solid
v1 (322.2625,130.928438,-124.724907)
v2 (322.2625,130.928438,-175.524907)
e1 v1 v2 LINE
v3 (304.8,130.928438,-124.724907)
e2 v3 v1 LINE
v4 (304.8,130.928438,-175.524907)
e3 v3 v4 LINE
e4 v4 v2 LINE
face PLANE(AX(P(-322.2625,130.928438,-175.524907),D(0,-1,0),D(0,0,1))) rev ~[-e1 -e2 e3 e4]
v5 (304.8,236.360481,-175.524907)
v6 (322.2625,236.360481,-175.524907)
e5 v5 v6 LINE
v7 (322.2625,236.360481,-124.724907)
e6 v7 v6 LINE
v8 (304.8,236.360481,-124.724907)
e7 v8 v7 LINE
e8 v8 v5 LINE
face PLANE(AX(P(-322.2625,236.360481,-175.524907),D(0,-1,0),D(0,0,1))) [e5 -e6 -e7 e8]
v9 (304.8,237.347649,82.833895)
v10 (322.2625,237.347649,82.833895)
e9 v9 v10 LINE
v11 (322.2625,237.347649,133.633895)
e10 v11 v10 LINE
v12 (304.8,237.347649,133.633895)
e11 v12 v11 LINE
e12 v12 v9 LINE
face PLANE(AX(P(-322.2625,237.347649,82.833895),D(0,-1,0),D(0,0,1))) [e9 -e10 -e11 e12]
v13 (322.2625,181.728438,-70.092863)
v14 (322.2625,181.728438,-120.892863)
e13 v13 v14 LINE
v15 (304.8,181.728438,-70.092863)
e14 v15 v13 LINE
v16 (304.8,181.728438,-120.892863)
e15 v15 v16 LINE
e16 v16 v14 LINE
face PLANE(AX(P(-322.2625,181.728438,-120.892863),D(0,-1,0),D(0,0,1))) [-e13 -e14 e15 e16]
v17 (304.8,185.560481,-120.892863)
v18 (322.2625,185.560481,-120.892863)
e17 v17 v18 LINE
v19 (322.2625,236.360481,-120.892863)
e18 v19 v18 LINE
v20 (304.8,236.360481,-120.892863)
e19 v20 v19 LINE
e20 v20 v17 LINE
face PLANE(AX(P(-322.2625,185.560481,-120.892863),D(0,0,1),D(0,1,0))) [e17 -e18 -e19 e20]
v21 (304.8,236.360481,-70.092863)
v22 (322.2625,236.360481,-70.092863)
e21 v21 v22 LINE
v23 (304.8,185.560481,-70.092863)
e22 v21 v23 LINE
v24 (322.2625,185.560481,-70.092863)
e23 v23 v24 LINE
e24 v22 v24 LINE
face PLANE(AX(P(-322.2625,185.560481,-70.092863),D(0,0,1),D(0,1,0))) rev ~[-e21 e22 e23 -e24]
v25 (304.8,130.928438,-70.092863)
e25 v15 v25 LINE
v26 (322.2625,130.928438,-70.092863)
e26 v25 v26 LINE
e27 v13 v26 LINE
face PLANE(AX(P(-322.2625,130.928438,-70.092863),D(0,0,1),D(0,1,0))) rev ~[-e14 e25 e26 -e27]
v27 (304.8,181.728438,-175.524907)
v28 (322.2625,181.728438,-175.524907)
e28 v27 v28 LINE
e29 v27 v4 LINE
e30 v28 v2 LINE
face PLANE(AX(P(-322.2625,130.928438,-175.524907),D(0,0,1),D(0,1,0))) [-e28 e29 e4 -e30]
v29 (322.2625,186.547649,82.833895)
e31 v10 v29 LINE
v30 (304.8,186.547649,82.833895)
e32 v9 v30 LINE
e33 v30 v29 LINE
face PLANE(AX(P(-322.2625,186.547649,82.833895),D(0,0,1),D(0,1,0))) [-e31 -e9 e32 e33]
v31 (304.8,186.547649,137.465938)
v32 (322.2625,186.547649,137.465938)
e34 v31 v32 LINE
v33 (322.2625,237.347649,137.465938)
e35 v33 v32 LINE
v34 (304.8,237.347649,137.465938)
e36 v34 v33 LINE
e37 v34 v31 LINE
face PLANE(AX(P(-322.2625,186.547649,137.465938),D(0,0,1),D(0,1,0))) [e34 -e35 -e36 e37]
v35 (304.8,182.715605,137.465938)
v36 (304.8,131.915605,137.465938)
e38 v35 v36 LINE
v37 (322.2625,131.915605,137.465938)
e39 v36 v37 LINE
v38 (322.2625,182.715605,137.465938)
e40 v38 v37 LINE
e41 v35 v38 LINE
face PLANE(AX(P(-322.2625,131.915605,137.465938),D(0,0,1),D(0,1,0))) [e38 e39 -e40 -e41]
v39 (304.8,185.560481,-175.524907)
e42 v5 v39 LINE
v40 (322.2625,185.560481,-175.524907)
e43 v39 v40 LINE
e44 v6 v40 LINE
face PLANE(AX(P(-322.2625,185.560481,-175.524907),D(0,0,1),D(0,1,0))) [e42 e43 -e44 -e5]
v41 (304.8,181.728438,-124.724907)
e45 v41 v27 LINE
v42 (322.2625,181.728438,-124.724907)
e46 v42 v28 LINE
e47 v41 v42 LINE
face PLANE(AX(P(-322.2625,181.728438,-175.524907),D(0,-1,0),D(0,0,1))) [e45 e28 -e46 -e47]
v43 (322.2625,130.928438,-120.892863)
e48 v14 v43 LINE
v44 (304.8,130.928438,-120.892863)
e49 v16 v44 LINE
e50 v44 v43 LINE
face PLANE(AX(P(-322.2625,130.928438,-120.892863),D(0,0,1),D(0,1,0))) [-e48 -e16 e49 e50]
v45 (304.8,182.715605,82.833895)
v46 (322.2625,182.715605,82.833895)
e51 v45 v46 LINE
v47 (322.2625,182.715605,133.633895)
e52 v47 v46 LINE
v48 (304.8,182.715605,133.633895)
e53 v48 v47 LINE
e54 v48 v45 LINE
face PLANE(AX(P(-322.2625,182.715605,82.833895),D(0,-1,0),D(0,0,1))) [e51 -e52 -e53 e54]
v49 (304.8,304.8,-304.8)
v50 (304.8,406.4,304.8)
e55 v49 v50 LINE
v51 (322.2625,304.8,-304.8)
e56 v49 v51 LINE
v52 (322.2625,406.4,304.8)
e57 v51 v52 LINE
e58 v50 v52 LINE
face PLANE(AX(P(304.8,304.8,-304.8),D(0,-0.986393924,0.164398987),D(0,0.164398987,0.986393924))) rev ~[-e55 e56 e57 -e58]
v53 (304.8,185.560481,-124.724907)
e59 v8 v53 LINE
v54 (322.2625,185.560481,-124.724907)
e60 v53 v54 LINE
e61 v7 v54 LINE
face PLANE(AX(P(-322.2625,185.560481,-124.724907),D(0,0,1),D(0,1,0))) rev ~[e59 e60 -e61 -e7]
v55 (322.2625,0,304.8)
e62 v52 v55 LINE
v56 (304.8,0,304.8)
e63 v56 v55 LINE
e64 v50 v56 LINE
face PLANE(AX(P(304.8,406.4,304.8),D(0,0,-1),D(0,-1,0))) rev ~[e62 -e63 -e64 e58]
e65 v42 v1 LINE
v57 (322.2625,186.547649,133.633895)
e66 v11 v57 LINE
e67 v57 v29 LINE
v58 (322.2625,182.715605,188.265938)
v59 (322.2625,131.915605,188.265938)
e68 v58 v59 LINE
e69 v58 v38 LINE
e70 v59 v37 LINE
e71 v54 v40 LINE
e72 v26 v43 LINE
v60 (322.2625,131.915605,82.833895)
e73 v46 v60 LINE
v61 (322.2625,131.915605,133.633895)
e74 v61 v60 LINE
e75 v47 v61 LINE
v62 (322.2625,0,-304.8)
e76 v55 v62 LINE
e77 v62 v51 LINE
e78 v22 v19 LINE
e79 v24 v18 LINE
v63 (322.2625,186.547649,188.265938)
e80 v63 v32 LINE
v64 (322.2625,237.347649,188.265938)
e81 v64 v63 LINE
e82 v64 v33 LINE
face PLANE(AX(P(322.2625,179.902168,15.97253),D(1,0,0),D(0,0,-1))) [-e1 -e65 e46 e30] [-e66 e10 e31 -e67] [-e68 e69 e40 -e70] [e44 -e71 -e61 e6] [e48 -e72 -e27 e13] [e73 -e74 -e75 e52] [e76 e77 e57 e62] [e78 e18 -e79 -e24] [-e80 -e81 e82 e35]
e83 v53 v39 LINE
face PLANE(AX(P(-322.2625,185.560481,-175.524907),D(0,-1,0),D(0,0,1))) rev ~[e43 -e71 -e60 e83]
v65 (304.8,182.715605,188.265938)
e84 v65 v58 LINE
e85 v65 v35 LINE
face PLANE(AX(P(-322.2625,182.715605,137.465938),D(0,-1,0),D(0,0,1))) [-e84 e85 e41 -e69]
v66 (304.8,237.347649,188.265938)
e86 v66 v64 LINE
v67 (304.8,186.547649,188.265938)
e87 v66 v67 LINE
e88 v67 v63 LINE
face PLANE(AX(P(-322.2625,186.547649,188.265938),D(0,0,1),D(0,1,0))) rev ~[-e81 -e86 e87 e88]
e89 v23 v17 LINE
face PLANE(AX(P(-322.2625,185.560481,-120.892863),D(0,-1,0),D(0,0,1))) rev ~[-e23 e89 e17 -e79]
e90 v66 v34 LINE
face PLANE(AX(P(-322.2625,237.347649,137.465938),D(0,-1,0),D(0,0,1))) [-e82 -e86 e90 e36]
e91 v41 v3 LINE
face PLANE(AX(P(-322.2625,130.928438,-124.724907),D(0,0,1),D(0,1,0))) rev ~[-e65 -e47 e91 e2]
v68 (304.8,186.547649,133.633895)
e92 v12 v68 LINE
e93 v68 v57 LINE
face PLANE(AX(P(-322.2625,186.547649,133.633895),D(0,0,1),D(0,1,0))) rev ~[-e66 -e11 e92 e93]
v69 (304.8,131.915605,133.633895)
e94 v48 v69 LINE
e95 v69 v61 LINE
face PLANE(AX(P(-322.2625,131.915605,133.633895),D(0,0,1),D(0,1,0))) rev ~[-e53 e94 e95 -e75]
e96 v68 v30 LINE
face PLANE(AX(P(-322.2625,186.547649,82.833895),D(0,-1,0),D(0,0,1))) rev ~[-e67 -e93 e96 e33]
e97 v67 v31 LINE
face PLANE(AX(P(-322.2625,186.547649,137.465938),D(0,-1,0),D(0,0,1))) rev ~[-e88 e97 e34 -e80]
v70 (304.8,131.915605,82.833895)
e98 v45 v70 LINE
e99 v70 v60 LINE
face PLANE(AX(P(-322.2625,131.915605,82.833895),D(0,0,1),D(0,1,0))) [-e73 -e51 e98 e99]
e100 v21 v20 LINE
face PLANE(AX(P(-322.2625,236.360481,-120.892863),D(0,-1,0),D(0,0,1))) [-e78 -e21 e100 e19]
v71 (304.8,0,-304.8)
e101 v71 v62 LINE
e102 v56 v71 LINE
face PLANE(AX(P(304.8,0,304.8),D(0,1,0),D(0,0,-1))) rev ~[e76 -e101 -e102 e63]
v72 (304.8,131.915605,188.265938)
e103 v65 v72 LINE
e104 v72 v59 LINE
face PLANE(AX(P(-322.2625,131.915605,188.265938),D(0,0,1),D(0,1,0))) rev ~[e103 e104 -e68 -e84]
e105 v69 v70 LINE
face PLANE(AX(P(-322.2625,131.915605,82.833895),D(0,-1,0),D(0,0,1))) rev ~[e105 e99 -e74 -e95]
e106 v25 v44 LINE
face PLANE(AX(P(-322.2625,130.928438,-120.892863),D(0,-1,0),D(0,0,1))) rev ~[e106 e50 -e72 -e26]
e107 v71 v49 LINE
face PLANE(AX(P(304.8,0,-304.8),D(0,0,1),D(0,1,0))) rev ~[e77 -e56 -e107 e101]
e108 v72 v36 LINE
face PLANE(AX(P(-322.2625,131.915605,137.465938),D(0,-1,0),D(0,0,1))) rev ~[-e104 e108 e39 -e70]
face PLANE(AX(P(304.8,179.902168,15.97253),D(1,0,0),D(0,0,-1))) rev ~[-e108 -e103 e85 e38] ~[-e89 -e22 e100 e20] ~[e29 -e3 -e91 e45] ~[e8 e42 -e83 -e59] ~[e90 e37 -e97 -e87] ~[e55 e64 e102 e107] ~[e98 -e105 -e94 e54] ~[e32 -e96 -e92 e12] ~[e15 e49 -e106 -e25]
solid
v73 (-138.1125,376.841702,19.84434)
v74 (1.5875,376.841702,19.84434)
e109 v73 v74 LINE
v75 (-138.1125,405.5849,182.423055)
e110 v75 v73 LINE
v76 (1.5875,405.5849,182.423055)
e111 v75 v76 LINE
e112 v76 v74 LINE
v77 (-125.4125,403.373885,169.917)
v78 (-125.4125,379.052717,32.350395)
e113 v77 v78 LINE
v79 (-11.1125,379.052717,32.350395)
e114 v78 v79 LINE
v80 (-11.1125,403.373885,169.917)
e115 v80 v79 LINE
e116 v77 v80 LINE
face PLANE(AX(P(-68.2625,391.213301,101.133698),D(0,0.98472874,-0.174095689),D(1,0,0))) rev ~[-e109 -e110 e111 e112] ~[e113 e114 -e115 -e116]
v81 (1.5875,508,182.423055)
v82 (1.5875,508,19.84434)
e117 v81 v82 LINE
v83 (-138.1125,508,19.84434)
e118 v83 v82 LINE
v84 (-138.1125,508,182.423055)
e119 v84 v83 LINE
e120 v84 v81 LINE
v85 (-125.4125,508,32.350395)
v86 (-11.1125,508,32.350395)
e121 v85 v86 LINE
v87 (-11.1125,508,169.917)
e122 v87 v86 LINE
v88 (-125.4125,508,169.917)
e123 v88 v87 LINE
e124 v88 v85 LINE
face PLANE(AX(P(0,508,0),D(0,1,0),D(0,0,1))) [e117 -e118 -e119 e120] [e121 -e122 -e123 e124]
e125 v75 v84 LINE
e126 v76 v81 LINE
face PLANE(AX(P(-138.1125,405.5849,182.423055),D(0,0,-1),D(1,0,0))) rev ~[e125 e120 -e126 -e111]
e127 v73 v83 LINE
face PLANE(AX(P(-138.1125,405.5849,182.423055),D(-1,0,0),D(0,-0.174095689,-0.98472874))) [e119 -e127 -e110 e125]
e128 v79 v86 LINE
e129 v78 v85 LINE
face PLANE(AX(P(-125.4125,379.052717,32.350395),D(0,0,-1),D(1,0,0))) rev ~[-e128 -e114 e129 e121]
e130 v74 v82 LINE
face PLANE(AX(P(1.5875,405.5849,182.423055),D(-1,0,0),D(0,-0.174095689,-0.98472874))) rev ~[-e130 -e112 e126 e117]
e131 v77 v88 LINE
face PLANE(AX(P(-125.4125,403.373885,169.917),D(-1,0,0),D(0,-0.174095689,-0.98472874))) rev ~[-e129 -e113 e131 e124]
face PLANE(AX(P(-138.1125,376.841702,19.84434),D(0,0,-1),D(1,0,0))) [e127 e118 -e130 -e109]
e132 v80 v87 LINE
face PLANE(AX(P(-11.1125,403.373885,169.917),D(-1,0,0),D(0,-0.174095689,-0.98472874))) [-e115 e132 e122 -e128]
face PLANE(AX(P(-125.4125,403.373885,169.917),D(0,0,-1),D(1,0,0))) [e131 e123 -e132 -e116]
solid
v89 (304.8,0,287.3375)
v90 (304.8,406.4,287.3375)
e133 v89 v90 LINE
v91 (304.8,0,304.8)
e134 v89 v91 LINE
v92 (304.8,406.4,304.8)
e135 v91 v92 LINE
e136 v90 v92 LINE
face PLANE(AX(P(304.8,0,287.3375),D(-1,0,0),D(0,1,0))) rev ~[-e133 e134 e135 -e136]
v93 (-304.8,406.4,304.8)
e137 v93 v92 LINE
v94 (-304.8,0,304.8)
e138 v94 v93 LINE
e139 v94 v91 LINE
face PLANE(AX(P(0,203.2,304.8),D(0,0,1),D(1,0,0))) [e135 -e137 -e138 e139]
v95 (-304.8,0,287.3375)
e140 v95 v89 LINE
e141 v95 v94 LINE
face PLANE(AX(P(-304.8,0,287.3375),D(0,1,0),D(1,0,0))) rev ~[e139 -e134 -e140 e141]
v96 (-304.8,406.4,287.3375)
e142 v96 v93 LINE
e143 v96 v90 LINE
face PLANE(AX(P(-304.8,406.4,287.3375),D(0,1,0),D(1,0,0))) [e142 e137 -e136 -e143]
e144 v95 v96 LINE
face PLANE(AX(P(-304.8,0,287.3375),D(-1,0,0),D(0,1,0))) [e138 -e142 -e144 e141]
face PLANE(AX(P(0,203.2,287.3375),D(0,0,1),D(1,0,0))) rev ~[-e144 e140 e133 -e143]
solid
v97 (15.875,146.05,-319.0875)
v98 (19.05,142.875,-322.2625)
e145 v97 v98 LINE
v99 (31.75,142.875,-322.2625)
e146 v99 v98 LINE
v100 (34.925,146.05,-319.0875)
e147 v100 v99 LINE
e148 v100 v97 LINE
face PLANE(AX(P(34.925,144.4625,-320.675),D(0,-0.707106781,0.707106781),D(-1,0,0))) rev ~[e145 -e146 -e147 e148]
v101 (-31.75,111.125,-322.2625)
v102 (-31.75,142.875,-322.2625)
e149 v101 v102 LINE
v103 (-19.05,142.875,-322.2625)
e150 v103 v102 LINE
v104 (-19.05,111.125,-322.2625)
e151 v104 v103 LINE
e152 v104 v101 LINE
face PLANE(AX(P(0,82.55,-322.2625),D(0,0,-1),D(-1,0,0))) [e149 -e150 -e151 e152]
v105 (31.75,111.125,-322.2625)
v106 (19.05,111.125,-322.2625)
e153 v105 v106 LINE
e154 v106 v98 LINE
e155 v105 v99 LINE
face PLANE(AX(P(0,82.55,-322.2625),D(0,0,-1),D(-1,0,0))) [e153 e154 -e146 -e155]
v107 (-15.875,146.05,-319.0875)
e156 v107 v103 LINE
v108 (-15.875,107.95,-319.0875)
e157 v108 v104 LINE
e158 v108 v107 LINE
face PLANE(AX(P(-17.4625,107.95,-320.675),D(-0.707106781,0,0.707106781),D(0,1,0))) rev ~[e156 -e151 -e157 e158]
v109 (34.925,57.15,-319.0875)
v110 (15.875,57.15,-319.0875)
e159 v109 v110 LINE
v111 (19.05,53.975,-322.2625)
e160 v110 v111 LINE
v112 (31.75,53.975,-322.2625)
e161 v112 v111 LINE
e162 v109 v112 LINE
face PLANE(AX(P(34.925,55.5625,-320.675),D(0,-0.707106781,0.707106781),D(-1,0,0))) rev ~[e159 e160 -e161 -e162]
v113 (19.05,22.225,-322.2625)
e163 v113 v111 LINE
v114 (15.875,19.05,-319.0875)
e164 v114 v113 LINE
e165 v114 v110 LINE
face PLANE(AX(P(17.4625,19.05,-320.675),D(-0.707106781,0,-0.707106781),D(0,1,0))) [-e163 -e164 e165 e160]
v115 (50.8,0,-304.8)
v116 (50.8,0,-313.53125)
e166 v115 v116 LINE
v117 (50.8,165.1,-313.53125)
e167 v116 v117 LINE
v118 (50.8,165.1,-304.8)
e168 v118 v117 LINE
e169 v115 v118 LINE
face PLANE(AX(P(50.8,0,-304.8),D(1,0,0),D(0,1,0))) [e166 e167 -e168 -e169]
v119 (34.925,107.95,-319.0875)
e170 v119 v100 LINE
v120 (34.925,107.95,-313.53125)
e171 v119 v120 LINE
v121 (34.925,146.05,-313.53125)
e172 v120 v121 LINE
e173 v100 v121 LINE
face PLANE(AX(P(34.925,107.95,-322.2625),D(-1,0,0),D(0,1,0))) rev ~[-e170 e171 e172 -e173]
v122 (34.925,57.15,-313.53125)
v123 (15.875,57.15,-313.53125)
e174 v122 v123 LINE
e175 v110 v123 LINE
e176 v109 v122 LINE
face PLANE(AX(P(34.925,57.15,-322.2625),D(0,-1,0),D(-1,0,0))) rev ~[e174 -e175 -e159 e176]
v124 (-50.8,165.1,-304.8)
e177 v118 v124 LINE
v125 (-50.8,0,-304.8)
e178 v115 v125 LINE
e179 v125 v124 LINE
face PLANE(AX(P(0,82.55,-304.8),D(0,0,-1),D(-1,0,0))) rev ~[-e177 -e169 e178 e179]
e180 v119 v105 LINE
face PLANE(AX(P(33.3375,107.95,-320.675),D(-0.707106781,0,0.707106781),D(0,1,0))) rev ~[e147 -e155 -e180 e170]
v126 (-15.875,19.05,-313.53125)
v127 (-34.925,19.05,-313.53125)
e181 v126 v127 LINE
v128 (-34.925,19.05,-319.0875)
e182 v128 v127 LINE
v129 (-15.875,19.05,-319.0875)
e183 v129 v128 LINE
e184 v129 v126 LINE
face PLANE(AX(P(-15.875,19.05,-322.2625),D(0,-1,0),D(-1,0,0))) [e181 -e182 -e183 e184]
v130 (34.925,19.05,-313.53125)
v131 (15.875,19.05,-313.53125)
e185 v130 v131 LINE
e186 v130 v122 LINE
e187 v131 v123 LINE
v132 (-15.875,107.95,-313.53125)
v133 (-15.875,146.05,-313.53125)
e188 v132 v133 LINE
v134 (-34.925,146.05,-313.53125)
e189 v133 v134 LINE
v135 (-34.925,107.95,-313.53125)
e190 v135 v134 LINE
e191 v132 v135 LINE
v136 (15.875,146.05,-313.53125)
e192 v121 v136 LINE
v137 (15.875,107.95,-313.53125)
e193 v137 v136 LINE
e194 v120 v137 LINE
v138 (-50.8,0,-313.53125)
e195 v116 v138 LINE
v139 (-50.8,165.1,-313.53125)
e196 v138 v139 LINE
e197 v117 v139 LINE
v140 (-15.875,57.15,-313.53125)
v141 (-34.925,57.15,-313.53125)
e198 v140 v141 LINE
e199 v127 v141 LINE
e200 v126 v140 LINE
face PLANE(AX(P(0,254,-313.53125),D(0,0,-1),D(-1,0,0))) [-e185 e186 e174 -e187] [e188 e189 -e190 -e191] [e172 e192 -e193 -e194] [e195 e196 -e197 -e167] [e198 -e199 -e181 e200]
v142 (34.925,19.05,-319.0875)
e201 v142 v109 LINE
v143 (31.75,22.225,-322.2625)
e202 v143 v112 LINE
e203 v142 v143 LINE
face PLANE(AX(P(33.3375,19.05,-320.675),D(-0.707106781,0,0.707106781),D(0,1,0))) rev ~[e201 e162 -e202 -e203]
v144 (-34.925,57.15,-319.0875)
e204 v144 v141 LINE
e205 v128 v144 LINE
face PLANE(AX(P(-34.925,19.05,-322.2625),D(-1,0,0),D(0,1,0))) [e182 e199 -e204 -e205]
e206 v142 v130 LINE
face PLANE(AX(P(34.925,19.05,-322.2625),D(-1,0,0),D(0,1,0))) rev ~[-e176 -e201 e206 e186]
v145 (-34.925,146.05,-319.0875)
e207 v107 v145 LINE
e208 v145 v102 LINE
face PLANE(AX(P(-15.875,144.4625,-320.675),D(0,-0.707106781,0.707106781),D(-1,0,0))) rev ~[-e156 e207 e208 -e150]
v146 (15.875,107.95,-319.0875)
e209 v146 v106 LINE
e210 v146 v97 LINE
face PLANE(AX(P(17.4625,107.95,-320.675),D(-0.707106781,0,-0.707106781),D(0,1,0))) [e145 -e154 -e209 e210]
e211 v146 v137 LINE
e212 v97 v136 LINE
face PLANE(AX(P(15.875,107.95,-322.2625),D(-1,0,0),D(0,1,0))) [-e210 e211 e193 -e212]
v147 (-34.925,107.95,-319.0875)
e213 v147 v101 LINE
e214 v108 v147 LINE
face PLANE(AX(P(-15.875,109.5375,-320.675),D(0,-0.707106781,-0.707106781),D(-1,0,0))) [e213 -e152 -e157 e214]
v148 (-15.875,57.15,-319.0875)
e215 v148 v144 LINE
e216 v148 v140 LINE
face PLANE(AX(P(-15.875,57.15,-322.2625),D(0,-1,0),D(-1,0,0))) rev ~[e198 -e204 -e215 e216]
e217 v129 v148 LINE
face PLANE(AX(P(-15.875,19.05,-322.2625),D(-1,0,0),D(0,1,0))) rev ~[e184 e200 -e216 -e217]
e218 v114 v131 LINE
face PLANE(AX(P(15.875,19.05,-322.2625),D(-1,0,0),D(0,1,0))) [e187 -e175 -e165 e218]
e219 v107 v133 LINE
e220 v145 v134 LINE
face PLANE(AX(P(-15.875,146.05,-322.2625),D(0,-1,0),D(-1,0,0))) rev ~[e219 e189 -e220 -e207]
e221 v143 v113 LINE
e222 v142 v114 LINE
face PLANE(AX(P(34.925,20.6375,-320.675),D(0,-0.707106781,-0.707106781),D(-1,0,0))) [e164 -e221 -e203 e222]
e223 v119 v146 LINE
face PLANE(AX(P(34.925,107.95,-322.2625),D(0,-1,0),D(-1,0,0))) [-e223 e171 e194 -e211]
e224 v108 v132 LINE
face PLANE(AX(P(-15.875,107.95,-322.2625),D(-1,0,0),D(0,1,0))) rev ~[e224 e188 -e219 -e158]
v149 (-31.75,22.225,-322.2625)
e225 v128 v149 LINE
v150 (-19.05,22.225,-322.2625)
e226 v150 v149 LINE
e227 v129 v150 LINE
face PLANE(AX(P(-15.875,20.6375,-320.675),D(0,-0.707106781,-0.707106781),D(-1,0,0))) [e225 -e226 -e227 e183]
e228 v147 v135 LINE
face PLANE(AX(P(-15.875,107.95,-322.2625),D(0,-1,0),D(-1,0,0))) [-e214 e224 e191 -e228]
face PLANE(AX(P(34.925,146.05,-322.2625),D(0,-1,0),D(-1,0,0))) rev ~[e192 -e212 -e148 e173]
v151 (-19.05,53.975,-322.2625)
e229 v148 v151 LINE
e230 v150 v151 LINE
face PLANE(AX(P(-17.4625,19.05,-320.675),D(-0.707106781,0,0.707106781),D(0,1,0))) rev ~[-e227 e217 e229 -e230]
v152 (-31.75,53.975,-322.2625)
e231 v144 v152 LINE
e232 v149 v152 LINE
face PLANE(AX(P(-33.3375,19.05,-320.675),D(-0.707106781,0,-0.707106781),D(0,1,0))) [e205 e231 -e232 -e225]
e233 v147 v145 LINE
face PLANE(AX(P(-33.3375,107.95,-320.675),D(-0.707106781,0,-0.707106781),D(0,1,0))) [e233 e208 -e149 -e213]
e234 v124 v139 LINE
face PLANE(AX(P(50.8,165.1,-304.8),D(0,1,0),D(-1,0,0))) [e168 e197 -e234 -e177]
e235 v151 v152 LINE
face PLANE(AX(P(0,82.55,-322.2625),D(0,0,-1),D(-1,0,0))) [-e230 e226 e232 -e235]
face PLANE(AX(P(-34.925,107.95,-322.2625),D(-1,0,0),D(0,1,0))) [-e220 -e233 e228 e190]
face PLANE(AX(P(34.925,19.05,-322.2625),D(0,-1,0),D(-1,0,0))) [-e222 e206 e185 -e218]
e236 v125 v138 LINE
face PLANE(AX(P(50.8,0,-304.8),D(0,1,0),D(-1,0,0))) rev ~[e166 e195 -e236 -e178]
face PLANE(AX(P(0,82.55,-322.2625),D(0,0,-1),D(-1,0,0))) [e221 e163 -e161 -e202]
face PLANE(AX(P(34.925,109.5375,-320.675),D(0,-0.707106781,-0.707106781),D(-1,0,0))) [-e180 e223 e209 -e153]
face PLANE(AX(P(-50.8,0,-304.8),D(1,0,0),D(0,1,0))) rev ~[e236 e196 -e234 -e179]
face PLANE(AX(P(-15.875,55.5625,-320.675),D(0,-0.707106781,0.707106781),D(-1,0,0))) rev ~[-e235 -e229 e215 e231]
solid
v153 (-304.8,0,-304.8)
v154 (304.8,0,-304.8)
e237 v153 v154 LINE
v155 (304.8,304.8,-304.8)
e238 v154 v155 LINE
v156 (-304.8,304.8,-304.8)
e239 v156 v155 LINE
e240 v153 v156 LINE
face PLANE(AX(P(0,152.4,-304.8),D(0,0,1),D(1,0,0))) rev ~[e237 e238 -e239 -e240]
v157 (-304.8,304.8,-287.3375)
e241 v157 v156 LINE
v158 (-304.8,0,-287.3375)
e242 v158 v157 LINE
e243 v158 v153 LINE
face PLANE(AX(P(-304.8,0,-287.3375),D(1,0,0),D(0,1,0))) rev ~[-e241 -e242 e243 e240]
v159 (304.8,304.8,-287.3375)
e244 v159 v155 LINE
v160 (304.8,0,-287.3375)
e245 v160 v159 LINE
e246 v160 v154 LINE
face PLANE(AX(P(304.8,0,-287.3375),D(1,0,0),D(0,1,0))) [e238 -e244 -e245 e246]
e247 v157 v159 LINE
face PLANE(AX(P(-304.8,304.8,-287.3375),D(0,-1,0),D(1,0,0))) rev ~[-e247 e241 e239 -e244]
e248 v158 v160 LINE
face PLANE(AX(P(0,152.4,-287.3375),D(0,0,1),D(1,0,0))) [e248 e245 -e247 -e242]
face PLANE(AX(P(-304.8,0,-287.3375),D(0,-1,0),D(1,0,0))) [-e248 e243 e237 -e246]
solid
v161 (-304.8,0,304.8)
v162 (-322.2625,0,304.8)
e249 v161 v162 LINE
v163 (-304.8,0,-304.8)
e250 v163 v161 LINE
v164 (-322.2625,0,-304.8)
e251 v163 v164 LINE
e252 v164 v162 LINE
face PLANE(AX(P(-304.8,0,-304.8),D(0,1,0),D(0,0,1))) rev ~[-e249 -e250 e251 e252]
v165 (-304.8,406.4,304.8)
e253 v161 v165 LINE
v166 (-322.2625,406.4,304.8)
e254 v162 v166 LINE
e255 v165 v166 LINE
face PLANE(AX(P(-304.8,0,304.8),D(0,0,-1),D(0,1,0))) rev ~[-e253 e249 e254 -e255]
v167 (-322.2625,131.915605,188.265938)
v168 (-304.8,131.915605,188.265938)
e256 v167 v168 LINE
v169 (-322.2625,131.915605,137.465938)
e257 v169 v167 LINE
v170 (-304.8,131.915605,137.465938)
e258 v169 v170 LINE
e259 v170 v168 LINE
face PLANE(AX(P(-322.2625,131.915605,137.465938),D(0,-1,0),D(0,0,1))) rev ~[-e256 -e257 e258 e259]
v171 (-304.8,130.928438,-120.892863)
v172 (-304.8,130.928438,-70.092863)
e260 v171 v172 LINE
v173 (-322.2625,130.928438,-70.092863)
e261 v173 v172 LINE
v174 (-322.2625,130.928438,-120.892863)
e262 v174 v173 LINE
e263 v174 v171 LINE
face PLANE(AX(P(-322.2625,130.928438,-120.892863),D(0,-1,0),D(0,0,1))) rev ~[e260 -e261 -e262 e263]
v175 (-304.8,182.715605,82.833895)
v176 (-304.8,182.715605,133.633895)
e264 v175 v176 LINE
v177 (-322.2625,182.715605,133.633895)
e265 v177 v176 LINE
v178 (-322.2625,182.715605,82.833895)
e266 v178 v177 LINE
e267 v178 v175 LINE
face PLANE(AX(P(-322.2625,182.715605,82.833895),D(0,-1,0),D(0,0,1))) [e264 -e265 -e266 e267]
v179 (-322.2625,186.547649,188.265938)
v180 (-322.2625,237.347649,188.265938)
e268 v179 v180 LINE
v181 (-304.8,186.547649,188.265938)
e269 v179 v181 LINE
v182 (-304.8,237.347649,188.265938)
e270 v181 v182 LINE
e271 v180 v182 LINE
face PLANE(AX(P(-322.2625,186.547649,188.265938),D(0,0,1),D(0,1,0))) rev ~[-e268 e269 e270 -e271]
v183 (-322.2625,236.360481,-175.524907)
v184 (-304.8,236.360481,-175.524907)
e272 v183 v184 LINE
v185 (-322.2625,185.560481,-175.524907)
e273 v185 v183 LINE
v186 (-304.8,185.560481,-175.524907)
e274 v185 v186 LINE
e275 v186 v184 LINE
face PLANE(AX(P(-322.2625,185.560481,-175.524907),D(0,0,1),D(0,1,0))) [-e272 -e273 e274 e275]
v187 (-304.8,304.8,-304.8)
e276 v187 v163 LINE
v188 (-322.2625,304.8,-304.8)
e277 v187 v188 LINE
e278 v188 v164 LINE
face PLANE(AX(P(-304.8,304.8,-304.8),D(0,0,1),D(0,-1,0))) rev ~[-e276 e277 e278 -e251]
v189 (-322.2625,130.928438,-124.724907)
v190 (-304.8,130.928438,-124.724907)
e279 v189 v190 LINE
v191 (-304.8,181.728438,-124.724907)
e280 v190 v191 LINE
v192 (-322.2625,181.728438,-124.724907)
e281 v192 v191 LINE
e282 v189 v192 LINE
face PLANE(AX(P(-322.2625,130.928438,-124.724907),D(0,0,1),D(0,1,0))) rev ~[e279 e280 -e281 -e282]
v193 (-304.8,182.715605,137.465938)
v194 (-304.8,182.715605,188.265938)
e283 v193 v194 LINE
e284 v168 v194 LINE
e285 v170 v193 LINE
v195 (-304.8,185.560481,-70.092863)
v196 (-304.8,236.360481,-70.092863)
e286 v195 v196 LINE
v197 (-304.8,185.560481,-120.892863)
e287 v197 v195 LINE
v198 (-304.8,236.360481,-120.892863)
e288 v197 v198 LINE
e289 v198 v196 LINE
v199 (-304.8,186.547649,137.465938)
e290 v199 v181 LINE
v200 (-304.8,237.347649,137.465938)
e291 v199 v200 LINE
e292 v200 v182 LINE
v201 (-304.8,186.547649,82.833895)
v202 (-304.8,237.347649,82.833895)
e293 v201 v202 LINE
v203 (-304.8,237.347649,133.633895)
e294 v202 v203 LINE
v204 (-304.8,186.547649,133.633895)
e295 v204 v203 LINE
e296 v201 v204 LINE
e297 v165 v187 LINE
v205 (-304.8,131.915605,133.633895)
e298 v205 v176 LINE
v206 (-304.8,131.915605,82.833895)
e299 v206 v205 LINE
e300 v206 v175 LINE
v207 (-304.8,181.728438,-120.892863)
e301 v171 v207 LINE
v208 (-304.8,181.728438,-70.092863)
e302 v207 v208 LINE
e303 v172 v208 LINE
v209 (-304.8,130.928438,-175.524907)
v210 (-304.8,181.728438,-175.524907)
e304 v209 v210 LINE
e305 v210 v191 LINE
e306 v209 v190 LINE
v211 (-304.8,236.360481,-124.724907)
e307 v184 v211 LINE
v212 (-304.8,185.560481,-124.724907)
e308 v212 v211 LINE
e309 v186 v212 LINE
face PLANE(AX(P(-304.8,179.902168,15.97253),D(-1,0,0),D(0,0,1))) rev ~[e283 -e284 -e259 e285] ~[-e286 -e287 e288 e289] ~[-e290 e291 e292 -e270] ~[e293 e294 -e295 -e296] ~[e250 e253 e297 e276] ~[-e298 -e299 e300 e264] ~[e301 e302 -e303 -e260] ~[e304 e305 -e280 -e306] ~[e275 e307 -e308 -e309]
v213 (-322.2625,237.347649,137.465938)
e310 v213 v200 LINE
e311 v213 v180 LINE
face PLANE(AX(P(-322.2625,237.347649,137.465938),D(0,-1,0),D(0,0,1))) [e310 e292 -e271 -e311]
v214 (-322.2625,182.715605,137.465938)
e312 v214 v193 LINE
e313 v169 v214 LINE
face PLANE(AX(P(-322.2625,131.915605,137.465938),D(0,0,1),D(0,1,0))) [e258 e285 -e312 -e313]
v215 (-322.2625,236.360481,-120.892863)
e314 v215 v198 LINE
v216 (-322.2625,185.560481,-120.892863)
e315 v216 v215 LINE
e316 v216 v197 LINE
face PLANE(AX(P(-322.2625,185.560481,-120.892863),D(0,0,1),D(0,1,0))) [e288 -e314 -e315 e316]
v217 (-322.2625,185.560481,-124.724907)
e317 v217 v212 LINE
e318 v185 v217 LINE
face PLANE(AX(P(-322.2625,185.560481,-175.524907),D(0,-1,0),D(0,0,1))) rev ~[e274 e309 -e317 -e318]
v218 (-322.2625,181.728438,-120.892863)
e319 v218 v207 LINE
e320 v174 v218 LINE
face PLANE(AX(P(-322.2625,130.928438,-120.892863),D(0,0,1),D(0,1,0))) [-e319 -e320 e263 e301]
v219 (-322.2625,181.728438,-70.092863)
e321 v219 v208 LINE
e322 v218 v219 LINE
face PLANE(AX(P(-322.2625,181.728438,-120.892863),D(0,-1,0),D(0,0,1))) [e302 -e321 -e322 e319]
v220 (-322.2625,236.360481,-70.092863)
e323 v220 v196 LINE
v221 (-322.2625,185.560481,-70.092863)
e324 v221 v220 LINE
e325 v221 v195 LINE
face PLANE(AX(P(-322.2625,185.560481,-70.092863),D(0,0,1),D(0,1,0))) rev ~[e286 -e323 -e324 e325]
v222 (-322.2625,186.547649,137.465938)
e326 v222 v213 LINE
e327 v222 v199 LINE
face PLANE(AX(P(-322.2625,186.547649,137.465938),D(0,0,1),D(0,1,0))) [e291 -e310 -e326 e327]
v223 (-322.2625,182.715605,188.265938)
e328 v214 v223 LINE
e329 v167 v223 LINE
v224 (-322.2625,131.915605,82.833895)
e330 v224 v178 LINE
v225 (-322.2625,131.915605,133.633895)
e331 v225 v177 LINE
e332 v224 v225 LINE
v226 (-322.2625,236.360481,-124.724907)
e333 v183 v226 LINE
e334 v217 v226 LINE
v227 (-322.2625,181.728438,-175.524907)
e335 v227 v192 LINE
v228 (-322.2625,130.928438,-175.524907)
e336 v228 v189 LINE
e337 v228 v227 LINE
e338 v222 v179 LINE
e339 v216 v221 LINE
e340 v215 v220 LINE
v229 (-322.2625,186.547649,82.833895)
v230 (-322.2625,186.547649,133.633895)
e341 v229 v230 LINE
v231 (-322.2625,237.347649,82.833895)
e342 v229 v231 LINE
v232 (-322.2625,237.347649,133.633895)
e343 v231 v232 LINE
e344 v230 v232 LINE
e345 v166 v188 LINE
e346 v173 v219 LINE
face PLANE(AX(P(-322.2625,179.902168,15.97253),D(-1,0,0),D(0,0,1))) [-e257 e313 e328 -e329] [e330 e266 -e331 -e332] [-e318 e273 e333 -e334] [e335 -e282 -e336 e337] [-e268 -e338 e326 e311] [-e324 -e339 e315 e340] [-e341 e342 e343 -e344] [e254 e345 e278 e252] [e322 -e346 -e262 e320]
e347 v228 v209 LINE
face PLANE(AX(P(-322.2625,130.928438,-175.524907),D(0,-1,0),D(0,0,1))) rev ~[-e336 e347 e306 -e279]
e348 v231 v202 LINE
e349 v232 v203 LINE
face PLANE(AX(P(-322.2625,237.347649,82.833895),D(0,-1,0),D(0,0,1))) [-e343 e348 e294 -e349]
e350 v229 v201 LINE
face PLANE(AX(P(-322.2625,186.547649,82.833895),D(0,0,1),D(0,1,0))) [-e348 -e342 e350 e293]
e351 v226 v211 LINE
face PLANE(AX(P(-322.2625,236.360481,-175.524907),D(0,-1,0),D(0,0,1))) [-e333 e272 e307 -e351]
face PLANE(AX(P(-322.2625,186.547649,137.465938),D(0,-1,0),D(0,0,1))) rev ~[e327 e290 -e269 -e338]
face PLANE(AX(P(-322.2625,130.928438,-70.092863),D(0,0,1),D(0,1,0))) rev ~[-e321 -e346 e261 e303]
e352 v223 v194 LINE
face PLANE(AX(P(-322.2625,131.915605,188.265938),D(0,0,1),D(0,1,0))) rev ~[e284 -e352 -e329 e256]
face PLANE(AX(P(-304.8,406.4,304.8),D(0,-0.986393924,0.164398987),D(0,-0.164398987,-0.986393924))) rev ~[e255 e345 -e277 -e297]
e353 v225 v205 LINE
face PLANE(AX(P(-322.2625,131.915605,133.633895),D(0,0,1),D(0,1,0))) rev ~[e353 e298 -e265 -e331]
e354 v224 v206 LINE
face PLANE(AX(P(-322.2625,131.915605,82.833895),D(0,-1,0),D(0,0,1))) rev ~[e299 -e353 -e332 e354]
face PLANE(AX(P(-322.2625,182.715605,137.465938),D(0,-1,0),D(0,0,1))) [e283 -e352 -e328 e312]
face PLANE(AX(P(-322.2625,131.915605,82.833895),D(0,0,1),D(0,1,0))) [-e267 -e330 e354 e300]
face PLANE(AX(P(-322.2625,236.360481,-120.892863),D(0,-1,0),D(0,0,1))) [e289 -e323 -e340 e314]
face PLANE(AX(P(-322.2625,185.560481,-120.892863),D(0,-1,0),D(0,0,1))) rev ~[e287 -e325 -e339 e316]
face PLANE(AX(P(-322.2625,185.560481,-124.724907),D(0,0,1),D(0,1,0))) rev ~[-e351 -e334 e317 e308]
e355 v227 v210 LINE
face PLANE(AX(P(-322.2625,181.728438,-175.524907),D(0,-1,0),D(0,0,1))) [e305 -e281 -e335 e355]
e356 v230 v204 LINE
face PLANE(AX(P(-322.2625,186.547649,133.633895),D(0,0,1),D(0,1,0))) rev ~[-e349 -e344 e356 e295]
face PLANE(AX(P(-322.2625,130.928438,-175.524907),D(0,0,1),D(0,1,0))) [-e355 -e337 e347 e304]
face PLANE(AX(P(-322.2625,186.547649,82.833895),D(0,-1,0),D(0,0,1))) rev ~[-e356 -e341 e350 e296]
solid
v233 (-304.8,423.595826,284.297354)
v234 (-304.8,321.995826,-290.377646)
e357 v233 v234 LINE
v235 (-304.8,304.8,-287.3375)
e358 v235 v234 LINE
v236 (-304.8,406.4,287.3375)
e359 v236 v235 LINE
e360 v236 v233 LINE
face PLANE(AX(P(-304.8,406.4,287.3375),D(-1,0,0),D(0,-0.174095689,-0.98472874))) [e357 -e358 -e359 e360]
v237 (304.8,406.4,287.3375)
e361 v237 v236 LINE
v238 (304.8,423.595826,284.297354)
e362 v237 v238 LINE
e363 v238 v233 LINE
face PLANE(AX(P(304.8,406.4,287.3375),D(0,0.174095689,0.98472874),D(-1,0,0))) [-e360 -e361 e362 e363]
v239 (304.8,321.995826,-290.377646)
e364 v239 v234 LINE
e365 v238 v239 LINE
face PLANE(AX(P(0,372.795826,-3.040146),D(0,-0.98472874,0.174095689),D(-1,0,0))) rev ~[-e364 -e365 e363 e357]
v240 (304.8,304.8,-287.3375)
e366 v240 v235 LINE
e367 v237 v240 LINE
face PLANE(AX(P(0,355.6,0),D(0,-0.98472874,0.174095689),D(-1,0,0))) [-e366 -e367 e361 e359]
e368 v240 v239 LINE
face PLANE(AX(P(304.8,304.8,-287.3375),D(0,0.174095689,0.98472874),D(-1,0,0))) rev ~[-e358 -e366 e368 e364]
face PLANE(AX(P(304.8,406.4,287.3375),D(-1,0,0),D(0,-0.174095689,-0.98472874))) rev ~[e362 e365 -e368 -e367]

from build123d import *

# Parameters (mm, degrees)
SKETCH4_W            = 609.6
SKETCH4_H            = 304.8
BOSS_EXTRUDE2_DEPTH  = 17.4625
BOSS_EXTRUDE3_DEPTH  = 17.4625
SKETCH6_W            = 609.6
SKETCH6_H            = 406.4
BOSS_EXTRUDE4_DEPTH  = 17.4625
BOSS_EXTRUDE1_DEPTH  = 17.4625
SKETCH7_W            = 609.6
SKETCH7_H            = 583.587110571
BOSS_EXTRUDE6_DEPTH  = 17.4625
BOSS_EXTRUDE7_REACH  = 620.513
SKETCH8_W            = 139.7
SKETCH8_H            = 165.1
SKETCH8_W_2          = 114.3
SKETCH8_H_2          = 139.7
SKETCH9_W            = 50.8
SKETCH9_H            = 50.8
CUT_EXTRUDE1_DEPTH   = 876.431045614
SKETCH10_W           = 101.6
SKETCH10_H           = 165.1
BOSS_EXTRUDE8_DEPTH  = 17.4625
SKETCH11_OUTSIDE_W   = 853.086
SKETCH11_OUTSIDE_H   = 716.56
SKETCH11_OUTSIDE_W_2 = 19.05
SKETCH11_OUTSIDE_H_2 = 38.1
CUT_EXTRUDE2_DEPTH   = 8.73125
CHAMFER1_SIZE        = 3.175


with BuildPart() as part:
    # Sketch4 → Boss-Extrude2 (new body)
    with BuildSketch(Plane.XY.offset(-287.3375)):
        with Locations((0, 152.4)):
            Rectangle(SKETCH4_W, SKETCH4_H)
    extrude(amount=-BOSS_EXTRUDE2_DEPTH)


with BuildPart() as body_2:
    # Sketch5 → Boss-Extrude3 (new body)
    with BuildSketch(Plane(origin=(-304.8, 0, 0), x_dir=(0, 0, -1), z_dir=(1, 0, 0))):
        Polygon((304.8, 0), (-304.8, 0), (-304.8, 406.4), (304.8, 304.8), align=None)
    extrude(amount=-BOSS_EXTRUDE3_DEPTH)


with BuildPart() as body_3:
    # Sketch6 → Boss-Extrude4 (new body)
    with BuildSketch(Plane.XY.offset(287.3375)):
        with Locations((0, 203.2)):
            Rectangle(SKETCH6_W, SKETCH6_H)
    extrude(amount=BOSS_EXTRUDE4_DEPTH)


with BuildPart() as body_4:
    # Sketch3 → Boss-Extrude1 (new body)
    with BuildSketch(Plane(origin=(304.8, 0, 0), x_dir=(0, 0, -1), z_dir=(1, 0, 0))):
        Polygon((-304.8, 0), (304.8, 0), (304.8, 304.8), (-304.8, 406.4), align=None)
    extrude(amount=BOSS_EXTRUDE1_DEPTH)


with BuildPart() as body_5:
    # Sketch7 → Boss-Extrude6 (new body)
    with BuildSketch(Plane(origin=(0, 344.822009768, -60.963007252), x_dir=(-1, 0, 0), z_dir=(0, -0.9847287398746516, 0.17409568881761794))):
        with Locations((0, -61.908426944)):
            Rectangle(SKETCH7_W, SKETCH7_H)
    extrude(amount=-BOSS_EXTRUDE6_DEPTH)


with BuildPart() as body_6:
    # Boss-Extrude7: up to this plane
    boss_extrude7_end = Plane(origin=(0, 508, 0), z_dir=(0, 1, 0))
    # Sketch8 → Boss-Extrude7 (new, up to the surface)
    with BuildSketch(Plane(origin=(0, 362.017835388, -64.003153218), x_dir=(1, 0, 0), z_dir=(0, 0.9847287398746516, -0.17409568881761792)), mode=Mode.PRIVATE) as boss_extrude7_sk1:
        with Locations((-68.2625, -167.697807849)):
            Rectangle(SKETCH8_W, SKETCH8_H)
        with Locations((-68.2625, -167.697807849)):
            Rectangle(SKETCH8_W_2, SKETCH8_H_2, mode=Mode.SUBTRACT)
    boss_extrude7_tool1 = split(extrude(boss_extrude7_sk1.sketch, amount=BOSS_EXTRUDE7_REACH, dir=(0, 1, 0), mode=Mode.PRIVATE), bisect_by=boss_extrude7_end, keep=Keep.BOTH, mode=Mode.PRIVATE)
    add(boss_extrude7_tool1.solids().sort_by_distance((-68.2625, 377.218224, 21.974045))[0])


with BuildPart() as cut_extrude1_tool:
    # Sketch9 → Cut-Extrude1 (new, through all)
    with BuildSketch(Plane.ZY.offset(322.2625)):
        with Locations((-150.124906912, 210.96048109)):
            Rectangle(SKETCH9_W, SKETCH9_H)
        with Locations((-150.124906912, 156.328437529)):
            Rectangle(SKETCH9_W, SKETCH9_H)
        with Locations((-95.492863351, 210.96048109)):
            Rectangle(SKETCH9_W, SKETCH9_H)
        with Locations((-95.492863351, 156.328437529)):
            Rectangle(SKETCH9_W, SKETCH9_H)
        with Locations((108.233894506, 157.315605476)):
            Rectangle(SKETCH9_W, SKETCH9_H)
        with Locations((108.233894506, 211.947649037)):
            Rectangle(SKETCH9_W, SKETCH9_H)
        with Locations((162.865938066, 211.947649037)):
            Rectangle(SKETCH9_W, SKETCH9_H)
        with Locations((162.865938066, 157.315605476)):
            Rectangle(SKETCH9_W, SKETCH9_H)
    extrude(amount=-CUT_EXTRUDE1_DEPTH)


with BuildPart() as body_2_1:
    add(body_2.part)

    # Cut-Extrude1: cut by cut_extrude1_tool
    add(cut_extrude1_tool.part, mode=Mode.SUBTRACT)


with BuildPart() as body_4_1:
    add(body_4.part)

    # Cut-Extrude1: cut by cut_extrude1_tool
    add(cut_extrude1_tool.part, mode=Mode.SUBTRACT)


with BuildPart() as body_7:
    # Sketch10 → Boss-Extrude8 (new body)
    with BuildSketch(Plane(origin=(0, 0, -304.8), x_dir=(-1, 0, 0), z_dir=(0, 0, -1))):
        with Locations((0, 82.55)):
            Rectangle(SKETCH10_W, SKETCH10_H)
    extrude(amount=BOSS_EXTRUDE8_DEPTH)

    # Sketch11 outside → Cut-Extrude2 (cut)
    with BuildSketch(Plane(origin=(0, 0, -322.2625), x_dir=(-1, 0, 0), z_dir=(0, 0, -1))):
        with Locations((0, 254)):
            Rectangle(SKETCH11_OUTSIDE_W, SKETCH11_OUTSIDE_H)
        with Locations((-25.4, 127)):
            Rectangle(SKETCH11_OUTSIDE_W_2, SKETCH11_OUTSIDE_H_2, mode=Mode.SUBTRACT)
        with Locations((25.4, 127)):
            Rectangle(SKETCH11_OUTSIDE_W_2, SKETCH11_OUTSIDE_H_2, mode=Mode.SUBTRACT)
        with Locations((25.4, 38.1)):
            Rectangle(SKETCH11_OUTSIDE_W_2, SKETCH11_OUTSIDE_H_2, mode=Mode.SUBTRACT)
        with Locations((-25.4, 38.1)):
            Rectangle(SKETCH11_OUTSIDE_W_2, SKETCH11_OUTSIDE_H_2, mode=Mode.SUBTRACT)
    extrude(amount=-CUT_EXTRUDE2_DEPTH, mode=Mode.SUBTRACT)

    # Chamfer1
    chamfer1_edges = [body_7.edges().sort_by_distance(p)[0] for p in [
        (15.875, 127, -322.2625),
        (25.4, 107.95, -322.2625),
        (34.925, 127, -322.2625),
        (25.4, 146.05, -322.2625),
        (-34.925, 127, -322.2625),
        (-25.4, 107.95, -322.2625),
        (-15.875, 127, -322.2625),
        (-25.4, 146.05, -322.2625),
        (-15.875, 38.1, -322.2625),
        (-25.4, 57.15, -322.2625),
        (-34.925, 38.1, -322.2625),
        (-25.4, 19.05, -322.2625),
        (34.925, 38.1, -322.2625),
        (25.4, 57.15, -322.2625),
        (15.875, 38.1, -322.2625),
        (25.4, 19.05, -322.2625),
    ]]
    chamfer(chamfer1_edges, length=CHAMFER1_SIZE)


solid = Compound([part.part, body_3.part, body_5.part, body_6.part, body_2_1.part, body_4_1.part, body_7.part])
